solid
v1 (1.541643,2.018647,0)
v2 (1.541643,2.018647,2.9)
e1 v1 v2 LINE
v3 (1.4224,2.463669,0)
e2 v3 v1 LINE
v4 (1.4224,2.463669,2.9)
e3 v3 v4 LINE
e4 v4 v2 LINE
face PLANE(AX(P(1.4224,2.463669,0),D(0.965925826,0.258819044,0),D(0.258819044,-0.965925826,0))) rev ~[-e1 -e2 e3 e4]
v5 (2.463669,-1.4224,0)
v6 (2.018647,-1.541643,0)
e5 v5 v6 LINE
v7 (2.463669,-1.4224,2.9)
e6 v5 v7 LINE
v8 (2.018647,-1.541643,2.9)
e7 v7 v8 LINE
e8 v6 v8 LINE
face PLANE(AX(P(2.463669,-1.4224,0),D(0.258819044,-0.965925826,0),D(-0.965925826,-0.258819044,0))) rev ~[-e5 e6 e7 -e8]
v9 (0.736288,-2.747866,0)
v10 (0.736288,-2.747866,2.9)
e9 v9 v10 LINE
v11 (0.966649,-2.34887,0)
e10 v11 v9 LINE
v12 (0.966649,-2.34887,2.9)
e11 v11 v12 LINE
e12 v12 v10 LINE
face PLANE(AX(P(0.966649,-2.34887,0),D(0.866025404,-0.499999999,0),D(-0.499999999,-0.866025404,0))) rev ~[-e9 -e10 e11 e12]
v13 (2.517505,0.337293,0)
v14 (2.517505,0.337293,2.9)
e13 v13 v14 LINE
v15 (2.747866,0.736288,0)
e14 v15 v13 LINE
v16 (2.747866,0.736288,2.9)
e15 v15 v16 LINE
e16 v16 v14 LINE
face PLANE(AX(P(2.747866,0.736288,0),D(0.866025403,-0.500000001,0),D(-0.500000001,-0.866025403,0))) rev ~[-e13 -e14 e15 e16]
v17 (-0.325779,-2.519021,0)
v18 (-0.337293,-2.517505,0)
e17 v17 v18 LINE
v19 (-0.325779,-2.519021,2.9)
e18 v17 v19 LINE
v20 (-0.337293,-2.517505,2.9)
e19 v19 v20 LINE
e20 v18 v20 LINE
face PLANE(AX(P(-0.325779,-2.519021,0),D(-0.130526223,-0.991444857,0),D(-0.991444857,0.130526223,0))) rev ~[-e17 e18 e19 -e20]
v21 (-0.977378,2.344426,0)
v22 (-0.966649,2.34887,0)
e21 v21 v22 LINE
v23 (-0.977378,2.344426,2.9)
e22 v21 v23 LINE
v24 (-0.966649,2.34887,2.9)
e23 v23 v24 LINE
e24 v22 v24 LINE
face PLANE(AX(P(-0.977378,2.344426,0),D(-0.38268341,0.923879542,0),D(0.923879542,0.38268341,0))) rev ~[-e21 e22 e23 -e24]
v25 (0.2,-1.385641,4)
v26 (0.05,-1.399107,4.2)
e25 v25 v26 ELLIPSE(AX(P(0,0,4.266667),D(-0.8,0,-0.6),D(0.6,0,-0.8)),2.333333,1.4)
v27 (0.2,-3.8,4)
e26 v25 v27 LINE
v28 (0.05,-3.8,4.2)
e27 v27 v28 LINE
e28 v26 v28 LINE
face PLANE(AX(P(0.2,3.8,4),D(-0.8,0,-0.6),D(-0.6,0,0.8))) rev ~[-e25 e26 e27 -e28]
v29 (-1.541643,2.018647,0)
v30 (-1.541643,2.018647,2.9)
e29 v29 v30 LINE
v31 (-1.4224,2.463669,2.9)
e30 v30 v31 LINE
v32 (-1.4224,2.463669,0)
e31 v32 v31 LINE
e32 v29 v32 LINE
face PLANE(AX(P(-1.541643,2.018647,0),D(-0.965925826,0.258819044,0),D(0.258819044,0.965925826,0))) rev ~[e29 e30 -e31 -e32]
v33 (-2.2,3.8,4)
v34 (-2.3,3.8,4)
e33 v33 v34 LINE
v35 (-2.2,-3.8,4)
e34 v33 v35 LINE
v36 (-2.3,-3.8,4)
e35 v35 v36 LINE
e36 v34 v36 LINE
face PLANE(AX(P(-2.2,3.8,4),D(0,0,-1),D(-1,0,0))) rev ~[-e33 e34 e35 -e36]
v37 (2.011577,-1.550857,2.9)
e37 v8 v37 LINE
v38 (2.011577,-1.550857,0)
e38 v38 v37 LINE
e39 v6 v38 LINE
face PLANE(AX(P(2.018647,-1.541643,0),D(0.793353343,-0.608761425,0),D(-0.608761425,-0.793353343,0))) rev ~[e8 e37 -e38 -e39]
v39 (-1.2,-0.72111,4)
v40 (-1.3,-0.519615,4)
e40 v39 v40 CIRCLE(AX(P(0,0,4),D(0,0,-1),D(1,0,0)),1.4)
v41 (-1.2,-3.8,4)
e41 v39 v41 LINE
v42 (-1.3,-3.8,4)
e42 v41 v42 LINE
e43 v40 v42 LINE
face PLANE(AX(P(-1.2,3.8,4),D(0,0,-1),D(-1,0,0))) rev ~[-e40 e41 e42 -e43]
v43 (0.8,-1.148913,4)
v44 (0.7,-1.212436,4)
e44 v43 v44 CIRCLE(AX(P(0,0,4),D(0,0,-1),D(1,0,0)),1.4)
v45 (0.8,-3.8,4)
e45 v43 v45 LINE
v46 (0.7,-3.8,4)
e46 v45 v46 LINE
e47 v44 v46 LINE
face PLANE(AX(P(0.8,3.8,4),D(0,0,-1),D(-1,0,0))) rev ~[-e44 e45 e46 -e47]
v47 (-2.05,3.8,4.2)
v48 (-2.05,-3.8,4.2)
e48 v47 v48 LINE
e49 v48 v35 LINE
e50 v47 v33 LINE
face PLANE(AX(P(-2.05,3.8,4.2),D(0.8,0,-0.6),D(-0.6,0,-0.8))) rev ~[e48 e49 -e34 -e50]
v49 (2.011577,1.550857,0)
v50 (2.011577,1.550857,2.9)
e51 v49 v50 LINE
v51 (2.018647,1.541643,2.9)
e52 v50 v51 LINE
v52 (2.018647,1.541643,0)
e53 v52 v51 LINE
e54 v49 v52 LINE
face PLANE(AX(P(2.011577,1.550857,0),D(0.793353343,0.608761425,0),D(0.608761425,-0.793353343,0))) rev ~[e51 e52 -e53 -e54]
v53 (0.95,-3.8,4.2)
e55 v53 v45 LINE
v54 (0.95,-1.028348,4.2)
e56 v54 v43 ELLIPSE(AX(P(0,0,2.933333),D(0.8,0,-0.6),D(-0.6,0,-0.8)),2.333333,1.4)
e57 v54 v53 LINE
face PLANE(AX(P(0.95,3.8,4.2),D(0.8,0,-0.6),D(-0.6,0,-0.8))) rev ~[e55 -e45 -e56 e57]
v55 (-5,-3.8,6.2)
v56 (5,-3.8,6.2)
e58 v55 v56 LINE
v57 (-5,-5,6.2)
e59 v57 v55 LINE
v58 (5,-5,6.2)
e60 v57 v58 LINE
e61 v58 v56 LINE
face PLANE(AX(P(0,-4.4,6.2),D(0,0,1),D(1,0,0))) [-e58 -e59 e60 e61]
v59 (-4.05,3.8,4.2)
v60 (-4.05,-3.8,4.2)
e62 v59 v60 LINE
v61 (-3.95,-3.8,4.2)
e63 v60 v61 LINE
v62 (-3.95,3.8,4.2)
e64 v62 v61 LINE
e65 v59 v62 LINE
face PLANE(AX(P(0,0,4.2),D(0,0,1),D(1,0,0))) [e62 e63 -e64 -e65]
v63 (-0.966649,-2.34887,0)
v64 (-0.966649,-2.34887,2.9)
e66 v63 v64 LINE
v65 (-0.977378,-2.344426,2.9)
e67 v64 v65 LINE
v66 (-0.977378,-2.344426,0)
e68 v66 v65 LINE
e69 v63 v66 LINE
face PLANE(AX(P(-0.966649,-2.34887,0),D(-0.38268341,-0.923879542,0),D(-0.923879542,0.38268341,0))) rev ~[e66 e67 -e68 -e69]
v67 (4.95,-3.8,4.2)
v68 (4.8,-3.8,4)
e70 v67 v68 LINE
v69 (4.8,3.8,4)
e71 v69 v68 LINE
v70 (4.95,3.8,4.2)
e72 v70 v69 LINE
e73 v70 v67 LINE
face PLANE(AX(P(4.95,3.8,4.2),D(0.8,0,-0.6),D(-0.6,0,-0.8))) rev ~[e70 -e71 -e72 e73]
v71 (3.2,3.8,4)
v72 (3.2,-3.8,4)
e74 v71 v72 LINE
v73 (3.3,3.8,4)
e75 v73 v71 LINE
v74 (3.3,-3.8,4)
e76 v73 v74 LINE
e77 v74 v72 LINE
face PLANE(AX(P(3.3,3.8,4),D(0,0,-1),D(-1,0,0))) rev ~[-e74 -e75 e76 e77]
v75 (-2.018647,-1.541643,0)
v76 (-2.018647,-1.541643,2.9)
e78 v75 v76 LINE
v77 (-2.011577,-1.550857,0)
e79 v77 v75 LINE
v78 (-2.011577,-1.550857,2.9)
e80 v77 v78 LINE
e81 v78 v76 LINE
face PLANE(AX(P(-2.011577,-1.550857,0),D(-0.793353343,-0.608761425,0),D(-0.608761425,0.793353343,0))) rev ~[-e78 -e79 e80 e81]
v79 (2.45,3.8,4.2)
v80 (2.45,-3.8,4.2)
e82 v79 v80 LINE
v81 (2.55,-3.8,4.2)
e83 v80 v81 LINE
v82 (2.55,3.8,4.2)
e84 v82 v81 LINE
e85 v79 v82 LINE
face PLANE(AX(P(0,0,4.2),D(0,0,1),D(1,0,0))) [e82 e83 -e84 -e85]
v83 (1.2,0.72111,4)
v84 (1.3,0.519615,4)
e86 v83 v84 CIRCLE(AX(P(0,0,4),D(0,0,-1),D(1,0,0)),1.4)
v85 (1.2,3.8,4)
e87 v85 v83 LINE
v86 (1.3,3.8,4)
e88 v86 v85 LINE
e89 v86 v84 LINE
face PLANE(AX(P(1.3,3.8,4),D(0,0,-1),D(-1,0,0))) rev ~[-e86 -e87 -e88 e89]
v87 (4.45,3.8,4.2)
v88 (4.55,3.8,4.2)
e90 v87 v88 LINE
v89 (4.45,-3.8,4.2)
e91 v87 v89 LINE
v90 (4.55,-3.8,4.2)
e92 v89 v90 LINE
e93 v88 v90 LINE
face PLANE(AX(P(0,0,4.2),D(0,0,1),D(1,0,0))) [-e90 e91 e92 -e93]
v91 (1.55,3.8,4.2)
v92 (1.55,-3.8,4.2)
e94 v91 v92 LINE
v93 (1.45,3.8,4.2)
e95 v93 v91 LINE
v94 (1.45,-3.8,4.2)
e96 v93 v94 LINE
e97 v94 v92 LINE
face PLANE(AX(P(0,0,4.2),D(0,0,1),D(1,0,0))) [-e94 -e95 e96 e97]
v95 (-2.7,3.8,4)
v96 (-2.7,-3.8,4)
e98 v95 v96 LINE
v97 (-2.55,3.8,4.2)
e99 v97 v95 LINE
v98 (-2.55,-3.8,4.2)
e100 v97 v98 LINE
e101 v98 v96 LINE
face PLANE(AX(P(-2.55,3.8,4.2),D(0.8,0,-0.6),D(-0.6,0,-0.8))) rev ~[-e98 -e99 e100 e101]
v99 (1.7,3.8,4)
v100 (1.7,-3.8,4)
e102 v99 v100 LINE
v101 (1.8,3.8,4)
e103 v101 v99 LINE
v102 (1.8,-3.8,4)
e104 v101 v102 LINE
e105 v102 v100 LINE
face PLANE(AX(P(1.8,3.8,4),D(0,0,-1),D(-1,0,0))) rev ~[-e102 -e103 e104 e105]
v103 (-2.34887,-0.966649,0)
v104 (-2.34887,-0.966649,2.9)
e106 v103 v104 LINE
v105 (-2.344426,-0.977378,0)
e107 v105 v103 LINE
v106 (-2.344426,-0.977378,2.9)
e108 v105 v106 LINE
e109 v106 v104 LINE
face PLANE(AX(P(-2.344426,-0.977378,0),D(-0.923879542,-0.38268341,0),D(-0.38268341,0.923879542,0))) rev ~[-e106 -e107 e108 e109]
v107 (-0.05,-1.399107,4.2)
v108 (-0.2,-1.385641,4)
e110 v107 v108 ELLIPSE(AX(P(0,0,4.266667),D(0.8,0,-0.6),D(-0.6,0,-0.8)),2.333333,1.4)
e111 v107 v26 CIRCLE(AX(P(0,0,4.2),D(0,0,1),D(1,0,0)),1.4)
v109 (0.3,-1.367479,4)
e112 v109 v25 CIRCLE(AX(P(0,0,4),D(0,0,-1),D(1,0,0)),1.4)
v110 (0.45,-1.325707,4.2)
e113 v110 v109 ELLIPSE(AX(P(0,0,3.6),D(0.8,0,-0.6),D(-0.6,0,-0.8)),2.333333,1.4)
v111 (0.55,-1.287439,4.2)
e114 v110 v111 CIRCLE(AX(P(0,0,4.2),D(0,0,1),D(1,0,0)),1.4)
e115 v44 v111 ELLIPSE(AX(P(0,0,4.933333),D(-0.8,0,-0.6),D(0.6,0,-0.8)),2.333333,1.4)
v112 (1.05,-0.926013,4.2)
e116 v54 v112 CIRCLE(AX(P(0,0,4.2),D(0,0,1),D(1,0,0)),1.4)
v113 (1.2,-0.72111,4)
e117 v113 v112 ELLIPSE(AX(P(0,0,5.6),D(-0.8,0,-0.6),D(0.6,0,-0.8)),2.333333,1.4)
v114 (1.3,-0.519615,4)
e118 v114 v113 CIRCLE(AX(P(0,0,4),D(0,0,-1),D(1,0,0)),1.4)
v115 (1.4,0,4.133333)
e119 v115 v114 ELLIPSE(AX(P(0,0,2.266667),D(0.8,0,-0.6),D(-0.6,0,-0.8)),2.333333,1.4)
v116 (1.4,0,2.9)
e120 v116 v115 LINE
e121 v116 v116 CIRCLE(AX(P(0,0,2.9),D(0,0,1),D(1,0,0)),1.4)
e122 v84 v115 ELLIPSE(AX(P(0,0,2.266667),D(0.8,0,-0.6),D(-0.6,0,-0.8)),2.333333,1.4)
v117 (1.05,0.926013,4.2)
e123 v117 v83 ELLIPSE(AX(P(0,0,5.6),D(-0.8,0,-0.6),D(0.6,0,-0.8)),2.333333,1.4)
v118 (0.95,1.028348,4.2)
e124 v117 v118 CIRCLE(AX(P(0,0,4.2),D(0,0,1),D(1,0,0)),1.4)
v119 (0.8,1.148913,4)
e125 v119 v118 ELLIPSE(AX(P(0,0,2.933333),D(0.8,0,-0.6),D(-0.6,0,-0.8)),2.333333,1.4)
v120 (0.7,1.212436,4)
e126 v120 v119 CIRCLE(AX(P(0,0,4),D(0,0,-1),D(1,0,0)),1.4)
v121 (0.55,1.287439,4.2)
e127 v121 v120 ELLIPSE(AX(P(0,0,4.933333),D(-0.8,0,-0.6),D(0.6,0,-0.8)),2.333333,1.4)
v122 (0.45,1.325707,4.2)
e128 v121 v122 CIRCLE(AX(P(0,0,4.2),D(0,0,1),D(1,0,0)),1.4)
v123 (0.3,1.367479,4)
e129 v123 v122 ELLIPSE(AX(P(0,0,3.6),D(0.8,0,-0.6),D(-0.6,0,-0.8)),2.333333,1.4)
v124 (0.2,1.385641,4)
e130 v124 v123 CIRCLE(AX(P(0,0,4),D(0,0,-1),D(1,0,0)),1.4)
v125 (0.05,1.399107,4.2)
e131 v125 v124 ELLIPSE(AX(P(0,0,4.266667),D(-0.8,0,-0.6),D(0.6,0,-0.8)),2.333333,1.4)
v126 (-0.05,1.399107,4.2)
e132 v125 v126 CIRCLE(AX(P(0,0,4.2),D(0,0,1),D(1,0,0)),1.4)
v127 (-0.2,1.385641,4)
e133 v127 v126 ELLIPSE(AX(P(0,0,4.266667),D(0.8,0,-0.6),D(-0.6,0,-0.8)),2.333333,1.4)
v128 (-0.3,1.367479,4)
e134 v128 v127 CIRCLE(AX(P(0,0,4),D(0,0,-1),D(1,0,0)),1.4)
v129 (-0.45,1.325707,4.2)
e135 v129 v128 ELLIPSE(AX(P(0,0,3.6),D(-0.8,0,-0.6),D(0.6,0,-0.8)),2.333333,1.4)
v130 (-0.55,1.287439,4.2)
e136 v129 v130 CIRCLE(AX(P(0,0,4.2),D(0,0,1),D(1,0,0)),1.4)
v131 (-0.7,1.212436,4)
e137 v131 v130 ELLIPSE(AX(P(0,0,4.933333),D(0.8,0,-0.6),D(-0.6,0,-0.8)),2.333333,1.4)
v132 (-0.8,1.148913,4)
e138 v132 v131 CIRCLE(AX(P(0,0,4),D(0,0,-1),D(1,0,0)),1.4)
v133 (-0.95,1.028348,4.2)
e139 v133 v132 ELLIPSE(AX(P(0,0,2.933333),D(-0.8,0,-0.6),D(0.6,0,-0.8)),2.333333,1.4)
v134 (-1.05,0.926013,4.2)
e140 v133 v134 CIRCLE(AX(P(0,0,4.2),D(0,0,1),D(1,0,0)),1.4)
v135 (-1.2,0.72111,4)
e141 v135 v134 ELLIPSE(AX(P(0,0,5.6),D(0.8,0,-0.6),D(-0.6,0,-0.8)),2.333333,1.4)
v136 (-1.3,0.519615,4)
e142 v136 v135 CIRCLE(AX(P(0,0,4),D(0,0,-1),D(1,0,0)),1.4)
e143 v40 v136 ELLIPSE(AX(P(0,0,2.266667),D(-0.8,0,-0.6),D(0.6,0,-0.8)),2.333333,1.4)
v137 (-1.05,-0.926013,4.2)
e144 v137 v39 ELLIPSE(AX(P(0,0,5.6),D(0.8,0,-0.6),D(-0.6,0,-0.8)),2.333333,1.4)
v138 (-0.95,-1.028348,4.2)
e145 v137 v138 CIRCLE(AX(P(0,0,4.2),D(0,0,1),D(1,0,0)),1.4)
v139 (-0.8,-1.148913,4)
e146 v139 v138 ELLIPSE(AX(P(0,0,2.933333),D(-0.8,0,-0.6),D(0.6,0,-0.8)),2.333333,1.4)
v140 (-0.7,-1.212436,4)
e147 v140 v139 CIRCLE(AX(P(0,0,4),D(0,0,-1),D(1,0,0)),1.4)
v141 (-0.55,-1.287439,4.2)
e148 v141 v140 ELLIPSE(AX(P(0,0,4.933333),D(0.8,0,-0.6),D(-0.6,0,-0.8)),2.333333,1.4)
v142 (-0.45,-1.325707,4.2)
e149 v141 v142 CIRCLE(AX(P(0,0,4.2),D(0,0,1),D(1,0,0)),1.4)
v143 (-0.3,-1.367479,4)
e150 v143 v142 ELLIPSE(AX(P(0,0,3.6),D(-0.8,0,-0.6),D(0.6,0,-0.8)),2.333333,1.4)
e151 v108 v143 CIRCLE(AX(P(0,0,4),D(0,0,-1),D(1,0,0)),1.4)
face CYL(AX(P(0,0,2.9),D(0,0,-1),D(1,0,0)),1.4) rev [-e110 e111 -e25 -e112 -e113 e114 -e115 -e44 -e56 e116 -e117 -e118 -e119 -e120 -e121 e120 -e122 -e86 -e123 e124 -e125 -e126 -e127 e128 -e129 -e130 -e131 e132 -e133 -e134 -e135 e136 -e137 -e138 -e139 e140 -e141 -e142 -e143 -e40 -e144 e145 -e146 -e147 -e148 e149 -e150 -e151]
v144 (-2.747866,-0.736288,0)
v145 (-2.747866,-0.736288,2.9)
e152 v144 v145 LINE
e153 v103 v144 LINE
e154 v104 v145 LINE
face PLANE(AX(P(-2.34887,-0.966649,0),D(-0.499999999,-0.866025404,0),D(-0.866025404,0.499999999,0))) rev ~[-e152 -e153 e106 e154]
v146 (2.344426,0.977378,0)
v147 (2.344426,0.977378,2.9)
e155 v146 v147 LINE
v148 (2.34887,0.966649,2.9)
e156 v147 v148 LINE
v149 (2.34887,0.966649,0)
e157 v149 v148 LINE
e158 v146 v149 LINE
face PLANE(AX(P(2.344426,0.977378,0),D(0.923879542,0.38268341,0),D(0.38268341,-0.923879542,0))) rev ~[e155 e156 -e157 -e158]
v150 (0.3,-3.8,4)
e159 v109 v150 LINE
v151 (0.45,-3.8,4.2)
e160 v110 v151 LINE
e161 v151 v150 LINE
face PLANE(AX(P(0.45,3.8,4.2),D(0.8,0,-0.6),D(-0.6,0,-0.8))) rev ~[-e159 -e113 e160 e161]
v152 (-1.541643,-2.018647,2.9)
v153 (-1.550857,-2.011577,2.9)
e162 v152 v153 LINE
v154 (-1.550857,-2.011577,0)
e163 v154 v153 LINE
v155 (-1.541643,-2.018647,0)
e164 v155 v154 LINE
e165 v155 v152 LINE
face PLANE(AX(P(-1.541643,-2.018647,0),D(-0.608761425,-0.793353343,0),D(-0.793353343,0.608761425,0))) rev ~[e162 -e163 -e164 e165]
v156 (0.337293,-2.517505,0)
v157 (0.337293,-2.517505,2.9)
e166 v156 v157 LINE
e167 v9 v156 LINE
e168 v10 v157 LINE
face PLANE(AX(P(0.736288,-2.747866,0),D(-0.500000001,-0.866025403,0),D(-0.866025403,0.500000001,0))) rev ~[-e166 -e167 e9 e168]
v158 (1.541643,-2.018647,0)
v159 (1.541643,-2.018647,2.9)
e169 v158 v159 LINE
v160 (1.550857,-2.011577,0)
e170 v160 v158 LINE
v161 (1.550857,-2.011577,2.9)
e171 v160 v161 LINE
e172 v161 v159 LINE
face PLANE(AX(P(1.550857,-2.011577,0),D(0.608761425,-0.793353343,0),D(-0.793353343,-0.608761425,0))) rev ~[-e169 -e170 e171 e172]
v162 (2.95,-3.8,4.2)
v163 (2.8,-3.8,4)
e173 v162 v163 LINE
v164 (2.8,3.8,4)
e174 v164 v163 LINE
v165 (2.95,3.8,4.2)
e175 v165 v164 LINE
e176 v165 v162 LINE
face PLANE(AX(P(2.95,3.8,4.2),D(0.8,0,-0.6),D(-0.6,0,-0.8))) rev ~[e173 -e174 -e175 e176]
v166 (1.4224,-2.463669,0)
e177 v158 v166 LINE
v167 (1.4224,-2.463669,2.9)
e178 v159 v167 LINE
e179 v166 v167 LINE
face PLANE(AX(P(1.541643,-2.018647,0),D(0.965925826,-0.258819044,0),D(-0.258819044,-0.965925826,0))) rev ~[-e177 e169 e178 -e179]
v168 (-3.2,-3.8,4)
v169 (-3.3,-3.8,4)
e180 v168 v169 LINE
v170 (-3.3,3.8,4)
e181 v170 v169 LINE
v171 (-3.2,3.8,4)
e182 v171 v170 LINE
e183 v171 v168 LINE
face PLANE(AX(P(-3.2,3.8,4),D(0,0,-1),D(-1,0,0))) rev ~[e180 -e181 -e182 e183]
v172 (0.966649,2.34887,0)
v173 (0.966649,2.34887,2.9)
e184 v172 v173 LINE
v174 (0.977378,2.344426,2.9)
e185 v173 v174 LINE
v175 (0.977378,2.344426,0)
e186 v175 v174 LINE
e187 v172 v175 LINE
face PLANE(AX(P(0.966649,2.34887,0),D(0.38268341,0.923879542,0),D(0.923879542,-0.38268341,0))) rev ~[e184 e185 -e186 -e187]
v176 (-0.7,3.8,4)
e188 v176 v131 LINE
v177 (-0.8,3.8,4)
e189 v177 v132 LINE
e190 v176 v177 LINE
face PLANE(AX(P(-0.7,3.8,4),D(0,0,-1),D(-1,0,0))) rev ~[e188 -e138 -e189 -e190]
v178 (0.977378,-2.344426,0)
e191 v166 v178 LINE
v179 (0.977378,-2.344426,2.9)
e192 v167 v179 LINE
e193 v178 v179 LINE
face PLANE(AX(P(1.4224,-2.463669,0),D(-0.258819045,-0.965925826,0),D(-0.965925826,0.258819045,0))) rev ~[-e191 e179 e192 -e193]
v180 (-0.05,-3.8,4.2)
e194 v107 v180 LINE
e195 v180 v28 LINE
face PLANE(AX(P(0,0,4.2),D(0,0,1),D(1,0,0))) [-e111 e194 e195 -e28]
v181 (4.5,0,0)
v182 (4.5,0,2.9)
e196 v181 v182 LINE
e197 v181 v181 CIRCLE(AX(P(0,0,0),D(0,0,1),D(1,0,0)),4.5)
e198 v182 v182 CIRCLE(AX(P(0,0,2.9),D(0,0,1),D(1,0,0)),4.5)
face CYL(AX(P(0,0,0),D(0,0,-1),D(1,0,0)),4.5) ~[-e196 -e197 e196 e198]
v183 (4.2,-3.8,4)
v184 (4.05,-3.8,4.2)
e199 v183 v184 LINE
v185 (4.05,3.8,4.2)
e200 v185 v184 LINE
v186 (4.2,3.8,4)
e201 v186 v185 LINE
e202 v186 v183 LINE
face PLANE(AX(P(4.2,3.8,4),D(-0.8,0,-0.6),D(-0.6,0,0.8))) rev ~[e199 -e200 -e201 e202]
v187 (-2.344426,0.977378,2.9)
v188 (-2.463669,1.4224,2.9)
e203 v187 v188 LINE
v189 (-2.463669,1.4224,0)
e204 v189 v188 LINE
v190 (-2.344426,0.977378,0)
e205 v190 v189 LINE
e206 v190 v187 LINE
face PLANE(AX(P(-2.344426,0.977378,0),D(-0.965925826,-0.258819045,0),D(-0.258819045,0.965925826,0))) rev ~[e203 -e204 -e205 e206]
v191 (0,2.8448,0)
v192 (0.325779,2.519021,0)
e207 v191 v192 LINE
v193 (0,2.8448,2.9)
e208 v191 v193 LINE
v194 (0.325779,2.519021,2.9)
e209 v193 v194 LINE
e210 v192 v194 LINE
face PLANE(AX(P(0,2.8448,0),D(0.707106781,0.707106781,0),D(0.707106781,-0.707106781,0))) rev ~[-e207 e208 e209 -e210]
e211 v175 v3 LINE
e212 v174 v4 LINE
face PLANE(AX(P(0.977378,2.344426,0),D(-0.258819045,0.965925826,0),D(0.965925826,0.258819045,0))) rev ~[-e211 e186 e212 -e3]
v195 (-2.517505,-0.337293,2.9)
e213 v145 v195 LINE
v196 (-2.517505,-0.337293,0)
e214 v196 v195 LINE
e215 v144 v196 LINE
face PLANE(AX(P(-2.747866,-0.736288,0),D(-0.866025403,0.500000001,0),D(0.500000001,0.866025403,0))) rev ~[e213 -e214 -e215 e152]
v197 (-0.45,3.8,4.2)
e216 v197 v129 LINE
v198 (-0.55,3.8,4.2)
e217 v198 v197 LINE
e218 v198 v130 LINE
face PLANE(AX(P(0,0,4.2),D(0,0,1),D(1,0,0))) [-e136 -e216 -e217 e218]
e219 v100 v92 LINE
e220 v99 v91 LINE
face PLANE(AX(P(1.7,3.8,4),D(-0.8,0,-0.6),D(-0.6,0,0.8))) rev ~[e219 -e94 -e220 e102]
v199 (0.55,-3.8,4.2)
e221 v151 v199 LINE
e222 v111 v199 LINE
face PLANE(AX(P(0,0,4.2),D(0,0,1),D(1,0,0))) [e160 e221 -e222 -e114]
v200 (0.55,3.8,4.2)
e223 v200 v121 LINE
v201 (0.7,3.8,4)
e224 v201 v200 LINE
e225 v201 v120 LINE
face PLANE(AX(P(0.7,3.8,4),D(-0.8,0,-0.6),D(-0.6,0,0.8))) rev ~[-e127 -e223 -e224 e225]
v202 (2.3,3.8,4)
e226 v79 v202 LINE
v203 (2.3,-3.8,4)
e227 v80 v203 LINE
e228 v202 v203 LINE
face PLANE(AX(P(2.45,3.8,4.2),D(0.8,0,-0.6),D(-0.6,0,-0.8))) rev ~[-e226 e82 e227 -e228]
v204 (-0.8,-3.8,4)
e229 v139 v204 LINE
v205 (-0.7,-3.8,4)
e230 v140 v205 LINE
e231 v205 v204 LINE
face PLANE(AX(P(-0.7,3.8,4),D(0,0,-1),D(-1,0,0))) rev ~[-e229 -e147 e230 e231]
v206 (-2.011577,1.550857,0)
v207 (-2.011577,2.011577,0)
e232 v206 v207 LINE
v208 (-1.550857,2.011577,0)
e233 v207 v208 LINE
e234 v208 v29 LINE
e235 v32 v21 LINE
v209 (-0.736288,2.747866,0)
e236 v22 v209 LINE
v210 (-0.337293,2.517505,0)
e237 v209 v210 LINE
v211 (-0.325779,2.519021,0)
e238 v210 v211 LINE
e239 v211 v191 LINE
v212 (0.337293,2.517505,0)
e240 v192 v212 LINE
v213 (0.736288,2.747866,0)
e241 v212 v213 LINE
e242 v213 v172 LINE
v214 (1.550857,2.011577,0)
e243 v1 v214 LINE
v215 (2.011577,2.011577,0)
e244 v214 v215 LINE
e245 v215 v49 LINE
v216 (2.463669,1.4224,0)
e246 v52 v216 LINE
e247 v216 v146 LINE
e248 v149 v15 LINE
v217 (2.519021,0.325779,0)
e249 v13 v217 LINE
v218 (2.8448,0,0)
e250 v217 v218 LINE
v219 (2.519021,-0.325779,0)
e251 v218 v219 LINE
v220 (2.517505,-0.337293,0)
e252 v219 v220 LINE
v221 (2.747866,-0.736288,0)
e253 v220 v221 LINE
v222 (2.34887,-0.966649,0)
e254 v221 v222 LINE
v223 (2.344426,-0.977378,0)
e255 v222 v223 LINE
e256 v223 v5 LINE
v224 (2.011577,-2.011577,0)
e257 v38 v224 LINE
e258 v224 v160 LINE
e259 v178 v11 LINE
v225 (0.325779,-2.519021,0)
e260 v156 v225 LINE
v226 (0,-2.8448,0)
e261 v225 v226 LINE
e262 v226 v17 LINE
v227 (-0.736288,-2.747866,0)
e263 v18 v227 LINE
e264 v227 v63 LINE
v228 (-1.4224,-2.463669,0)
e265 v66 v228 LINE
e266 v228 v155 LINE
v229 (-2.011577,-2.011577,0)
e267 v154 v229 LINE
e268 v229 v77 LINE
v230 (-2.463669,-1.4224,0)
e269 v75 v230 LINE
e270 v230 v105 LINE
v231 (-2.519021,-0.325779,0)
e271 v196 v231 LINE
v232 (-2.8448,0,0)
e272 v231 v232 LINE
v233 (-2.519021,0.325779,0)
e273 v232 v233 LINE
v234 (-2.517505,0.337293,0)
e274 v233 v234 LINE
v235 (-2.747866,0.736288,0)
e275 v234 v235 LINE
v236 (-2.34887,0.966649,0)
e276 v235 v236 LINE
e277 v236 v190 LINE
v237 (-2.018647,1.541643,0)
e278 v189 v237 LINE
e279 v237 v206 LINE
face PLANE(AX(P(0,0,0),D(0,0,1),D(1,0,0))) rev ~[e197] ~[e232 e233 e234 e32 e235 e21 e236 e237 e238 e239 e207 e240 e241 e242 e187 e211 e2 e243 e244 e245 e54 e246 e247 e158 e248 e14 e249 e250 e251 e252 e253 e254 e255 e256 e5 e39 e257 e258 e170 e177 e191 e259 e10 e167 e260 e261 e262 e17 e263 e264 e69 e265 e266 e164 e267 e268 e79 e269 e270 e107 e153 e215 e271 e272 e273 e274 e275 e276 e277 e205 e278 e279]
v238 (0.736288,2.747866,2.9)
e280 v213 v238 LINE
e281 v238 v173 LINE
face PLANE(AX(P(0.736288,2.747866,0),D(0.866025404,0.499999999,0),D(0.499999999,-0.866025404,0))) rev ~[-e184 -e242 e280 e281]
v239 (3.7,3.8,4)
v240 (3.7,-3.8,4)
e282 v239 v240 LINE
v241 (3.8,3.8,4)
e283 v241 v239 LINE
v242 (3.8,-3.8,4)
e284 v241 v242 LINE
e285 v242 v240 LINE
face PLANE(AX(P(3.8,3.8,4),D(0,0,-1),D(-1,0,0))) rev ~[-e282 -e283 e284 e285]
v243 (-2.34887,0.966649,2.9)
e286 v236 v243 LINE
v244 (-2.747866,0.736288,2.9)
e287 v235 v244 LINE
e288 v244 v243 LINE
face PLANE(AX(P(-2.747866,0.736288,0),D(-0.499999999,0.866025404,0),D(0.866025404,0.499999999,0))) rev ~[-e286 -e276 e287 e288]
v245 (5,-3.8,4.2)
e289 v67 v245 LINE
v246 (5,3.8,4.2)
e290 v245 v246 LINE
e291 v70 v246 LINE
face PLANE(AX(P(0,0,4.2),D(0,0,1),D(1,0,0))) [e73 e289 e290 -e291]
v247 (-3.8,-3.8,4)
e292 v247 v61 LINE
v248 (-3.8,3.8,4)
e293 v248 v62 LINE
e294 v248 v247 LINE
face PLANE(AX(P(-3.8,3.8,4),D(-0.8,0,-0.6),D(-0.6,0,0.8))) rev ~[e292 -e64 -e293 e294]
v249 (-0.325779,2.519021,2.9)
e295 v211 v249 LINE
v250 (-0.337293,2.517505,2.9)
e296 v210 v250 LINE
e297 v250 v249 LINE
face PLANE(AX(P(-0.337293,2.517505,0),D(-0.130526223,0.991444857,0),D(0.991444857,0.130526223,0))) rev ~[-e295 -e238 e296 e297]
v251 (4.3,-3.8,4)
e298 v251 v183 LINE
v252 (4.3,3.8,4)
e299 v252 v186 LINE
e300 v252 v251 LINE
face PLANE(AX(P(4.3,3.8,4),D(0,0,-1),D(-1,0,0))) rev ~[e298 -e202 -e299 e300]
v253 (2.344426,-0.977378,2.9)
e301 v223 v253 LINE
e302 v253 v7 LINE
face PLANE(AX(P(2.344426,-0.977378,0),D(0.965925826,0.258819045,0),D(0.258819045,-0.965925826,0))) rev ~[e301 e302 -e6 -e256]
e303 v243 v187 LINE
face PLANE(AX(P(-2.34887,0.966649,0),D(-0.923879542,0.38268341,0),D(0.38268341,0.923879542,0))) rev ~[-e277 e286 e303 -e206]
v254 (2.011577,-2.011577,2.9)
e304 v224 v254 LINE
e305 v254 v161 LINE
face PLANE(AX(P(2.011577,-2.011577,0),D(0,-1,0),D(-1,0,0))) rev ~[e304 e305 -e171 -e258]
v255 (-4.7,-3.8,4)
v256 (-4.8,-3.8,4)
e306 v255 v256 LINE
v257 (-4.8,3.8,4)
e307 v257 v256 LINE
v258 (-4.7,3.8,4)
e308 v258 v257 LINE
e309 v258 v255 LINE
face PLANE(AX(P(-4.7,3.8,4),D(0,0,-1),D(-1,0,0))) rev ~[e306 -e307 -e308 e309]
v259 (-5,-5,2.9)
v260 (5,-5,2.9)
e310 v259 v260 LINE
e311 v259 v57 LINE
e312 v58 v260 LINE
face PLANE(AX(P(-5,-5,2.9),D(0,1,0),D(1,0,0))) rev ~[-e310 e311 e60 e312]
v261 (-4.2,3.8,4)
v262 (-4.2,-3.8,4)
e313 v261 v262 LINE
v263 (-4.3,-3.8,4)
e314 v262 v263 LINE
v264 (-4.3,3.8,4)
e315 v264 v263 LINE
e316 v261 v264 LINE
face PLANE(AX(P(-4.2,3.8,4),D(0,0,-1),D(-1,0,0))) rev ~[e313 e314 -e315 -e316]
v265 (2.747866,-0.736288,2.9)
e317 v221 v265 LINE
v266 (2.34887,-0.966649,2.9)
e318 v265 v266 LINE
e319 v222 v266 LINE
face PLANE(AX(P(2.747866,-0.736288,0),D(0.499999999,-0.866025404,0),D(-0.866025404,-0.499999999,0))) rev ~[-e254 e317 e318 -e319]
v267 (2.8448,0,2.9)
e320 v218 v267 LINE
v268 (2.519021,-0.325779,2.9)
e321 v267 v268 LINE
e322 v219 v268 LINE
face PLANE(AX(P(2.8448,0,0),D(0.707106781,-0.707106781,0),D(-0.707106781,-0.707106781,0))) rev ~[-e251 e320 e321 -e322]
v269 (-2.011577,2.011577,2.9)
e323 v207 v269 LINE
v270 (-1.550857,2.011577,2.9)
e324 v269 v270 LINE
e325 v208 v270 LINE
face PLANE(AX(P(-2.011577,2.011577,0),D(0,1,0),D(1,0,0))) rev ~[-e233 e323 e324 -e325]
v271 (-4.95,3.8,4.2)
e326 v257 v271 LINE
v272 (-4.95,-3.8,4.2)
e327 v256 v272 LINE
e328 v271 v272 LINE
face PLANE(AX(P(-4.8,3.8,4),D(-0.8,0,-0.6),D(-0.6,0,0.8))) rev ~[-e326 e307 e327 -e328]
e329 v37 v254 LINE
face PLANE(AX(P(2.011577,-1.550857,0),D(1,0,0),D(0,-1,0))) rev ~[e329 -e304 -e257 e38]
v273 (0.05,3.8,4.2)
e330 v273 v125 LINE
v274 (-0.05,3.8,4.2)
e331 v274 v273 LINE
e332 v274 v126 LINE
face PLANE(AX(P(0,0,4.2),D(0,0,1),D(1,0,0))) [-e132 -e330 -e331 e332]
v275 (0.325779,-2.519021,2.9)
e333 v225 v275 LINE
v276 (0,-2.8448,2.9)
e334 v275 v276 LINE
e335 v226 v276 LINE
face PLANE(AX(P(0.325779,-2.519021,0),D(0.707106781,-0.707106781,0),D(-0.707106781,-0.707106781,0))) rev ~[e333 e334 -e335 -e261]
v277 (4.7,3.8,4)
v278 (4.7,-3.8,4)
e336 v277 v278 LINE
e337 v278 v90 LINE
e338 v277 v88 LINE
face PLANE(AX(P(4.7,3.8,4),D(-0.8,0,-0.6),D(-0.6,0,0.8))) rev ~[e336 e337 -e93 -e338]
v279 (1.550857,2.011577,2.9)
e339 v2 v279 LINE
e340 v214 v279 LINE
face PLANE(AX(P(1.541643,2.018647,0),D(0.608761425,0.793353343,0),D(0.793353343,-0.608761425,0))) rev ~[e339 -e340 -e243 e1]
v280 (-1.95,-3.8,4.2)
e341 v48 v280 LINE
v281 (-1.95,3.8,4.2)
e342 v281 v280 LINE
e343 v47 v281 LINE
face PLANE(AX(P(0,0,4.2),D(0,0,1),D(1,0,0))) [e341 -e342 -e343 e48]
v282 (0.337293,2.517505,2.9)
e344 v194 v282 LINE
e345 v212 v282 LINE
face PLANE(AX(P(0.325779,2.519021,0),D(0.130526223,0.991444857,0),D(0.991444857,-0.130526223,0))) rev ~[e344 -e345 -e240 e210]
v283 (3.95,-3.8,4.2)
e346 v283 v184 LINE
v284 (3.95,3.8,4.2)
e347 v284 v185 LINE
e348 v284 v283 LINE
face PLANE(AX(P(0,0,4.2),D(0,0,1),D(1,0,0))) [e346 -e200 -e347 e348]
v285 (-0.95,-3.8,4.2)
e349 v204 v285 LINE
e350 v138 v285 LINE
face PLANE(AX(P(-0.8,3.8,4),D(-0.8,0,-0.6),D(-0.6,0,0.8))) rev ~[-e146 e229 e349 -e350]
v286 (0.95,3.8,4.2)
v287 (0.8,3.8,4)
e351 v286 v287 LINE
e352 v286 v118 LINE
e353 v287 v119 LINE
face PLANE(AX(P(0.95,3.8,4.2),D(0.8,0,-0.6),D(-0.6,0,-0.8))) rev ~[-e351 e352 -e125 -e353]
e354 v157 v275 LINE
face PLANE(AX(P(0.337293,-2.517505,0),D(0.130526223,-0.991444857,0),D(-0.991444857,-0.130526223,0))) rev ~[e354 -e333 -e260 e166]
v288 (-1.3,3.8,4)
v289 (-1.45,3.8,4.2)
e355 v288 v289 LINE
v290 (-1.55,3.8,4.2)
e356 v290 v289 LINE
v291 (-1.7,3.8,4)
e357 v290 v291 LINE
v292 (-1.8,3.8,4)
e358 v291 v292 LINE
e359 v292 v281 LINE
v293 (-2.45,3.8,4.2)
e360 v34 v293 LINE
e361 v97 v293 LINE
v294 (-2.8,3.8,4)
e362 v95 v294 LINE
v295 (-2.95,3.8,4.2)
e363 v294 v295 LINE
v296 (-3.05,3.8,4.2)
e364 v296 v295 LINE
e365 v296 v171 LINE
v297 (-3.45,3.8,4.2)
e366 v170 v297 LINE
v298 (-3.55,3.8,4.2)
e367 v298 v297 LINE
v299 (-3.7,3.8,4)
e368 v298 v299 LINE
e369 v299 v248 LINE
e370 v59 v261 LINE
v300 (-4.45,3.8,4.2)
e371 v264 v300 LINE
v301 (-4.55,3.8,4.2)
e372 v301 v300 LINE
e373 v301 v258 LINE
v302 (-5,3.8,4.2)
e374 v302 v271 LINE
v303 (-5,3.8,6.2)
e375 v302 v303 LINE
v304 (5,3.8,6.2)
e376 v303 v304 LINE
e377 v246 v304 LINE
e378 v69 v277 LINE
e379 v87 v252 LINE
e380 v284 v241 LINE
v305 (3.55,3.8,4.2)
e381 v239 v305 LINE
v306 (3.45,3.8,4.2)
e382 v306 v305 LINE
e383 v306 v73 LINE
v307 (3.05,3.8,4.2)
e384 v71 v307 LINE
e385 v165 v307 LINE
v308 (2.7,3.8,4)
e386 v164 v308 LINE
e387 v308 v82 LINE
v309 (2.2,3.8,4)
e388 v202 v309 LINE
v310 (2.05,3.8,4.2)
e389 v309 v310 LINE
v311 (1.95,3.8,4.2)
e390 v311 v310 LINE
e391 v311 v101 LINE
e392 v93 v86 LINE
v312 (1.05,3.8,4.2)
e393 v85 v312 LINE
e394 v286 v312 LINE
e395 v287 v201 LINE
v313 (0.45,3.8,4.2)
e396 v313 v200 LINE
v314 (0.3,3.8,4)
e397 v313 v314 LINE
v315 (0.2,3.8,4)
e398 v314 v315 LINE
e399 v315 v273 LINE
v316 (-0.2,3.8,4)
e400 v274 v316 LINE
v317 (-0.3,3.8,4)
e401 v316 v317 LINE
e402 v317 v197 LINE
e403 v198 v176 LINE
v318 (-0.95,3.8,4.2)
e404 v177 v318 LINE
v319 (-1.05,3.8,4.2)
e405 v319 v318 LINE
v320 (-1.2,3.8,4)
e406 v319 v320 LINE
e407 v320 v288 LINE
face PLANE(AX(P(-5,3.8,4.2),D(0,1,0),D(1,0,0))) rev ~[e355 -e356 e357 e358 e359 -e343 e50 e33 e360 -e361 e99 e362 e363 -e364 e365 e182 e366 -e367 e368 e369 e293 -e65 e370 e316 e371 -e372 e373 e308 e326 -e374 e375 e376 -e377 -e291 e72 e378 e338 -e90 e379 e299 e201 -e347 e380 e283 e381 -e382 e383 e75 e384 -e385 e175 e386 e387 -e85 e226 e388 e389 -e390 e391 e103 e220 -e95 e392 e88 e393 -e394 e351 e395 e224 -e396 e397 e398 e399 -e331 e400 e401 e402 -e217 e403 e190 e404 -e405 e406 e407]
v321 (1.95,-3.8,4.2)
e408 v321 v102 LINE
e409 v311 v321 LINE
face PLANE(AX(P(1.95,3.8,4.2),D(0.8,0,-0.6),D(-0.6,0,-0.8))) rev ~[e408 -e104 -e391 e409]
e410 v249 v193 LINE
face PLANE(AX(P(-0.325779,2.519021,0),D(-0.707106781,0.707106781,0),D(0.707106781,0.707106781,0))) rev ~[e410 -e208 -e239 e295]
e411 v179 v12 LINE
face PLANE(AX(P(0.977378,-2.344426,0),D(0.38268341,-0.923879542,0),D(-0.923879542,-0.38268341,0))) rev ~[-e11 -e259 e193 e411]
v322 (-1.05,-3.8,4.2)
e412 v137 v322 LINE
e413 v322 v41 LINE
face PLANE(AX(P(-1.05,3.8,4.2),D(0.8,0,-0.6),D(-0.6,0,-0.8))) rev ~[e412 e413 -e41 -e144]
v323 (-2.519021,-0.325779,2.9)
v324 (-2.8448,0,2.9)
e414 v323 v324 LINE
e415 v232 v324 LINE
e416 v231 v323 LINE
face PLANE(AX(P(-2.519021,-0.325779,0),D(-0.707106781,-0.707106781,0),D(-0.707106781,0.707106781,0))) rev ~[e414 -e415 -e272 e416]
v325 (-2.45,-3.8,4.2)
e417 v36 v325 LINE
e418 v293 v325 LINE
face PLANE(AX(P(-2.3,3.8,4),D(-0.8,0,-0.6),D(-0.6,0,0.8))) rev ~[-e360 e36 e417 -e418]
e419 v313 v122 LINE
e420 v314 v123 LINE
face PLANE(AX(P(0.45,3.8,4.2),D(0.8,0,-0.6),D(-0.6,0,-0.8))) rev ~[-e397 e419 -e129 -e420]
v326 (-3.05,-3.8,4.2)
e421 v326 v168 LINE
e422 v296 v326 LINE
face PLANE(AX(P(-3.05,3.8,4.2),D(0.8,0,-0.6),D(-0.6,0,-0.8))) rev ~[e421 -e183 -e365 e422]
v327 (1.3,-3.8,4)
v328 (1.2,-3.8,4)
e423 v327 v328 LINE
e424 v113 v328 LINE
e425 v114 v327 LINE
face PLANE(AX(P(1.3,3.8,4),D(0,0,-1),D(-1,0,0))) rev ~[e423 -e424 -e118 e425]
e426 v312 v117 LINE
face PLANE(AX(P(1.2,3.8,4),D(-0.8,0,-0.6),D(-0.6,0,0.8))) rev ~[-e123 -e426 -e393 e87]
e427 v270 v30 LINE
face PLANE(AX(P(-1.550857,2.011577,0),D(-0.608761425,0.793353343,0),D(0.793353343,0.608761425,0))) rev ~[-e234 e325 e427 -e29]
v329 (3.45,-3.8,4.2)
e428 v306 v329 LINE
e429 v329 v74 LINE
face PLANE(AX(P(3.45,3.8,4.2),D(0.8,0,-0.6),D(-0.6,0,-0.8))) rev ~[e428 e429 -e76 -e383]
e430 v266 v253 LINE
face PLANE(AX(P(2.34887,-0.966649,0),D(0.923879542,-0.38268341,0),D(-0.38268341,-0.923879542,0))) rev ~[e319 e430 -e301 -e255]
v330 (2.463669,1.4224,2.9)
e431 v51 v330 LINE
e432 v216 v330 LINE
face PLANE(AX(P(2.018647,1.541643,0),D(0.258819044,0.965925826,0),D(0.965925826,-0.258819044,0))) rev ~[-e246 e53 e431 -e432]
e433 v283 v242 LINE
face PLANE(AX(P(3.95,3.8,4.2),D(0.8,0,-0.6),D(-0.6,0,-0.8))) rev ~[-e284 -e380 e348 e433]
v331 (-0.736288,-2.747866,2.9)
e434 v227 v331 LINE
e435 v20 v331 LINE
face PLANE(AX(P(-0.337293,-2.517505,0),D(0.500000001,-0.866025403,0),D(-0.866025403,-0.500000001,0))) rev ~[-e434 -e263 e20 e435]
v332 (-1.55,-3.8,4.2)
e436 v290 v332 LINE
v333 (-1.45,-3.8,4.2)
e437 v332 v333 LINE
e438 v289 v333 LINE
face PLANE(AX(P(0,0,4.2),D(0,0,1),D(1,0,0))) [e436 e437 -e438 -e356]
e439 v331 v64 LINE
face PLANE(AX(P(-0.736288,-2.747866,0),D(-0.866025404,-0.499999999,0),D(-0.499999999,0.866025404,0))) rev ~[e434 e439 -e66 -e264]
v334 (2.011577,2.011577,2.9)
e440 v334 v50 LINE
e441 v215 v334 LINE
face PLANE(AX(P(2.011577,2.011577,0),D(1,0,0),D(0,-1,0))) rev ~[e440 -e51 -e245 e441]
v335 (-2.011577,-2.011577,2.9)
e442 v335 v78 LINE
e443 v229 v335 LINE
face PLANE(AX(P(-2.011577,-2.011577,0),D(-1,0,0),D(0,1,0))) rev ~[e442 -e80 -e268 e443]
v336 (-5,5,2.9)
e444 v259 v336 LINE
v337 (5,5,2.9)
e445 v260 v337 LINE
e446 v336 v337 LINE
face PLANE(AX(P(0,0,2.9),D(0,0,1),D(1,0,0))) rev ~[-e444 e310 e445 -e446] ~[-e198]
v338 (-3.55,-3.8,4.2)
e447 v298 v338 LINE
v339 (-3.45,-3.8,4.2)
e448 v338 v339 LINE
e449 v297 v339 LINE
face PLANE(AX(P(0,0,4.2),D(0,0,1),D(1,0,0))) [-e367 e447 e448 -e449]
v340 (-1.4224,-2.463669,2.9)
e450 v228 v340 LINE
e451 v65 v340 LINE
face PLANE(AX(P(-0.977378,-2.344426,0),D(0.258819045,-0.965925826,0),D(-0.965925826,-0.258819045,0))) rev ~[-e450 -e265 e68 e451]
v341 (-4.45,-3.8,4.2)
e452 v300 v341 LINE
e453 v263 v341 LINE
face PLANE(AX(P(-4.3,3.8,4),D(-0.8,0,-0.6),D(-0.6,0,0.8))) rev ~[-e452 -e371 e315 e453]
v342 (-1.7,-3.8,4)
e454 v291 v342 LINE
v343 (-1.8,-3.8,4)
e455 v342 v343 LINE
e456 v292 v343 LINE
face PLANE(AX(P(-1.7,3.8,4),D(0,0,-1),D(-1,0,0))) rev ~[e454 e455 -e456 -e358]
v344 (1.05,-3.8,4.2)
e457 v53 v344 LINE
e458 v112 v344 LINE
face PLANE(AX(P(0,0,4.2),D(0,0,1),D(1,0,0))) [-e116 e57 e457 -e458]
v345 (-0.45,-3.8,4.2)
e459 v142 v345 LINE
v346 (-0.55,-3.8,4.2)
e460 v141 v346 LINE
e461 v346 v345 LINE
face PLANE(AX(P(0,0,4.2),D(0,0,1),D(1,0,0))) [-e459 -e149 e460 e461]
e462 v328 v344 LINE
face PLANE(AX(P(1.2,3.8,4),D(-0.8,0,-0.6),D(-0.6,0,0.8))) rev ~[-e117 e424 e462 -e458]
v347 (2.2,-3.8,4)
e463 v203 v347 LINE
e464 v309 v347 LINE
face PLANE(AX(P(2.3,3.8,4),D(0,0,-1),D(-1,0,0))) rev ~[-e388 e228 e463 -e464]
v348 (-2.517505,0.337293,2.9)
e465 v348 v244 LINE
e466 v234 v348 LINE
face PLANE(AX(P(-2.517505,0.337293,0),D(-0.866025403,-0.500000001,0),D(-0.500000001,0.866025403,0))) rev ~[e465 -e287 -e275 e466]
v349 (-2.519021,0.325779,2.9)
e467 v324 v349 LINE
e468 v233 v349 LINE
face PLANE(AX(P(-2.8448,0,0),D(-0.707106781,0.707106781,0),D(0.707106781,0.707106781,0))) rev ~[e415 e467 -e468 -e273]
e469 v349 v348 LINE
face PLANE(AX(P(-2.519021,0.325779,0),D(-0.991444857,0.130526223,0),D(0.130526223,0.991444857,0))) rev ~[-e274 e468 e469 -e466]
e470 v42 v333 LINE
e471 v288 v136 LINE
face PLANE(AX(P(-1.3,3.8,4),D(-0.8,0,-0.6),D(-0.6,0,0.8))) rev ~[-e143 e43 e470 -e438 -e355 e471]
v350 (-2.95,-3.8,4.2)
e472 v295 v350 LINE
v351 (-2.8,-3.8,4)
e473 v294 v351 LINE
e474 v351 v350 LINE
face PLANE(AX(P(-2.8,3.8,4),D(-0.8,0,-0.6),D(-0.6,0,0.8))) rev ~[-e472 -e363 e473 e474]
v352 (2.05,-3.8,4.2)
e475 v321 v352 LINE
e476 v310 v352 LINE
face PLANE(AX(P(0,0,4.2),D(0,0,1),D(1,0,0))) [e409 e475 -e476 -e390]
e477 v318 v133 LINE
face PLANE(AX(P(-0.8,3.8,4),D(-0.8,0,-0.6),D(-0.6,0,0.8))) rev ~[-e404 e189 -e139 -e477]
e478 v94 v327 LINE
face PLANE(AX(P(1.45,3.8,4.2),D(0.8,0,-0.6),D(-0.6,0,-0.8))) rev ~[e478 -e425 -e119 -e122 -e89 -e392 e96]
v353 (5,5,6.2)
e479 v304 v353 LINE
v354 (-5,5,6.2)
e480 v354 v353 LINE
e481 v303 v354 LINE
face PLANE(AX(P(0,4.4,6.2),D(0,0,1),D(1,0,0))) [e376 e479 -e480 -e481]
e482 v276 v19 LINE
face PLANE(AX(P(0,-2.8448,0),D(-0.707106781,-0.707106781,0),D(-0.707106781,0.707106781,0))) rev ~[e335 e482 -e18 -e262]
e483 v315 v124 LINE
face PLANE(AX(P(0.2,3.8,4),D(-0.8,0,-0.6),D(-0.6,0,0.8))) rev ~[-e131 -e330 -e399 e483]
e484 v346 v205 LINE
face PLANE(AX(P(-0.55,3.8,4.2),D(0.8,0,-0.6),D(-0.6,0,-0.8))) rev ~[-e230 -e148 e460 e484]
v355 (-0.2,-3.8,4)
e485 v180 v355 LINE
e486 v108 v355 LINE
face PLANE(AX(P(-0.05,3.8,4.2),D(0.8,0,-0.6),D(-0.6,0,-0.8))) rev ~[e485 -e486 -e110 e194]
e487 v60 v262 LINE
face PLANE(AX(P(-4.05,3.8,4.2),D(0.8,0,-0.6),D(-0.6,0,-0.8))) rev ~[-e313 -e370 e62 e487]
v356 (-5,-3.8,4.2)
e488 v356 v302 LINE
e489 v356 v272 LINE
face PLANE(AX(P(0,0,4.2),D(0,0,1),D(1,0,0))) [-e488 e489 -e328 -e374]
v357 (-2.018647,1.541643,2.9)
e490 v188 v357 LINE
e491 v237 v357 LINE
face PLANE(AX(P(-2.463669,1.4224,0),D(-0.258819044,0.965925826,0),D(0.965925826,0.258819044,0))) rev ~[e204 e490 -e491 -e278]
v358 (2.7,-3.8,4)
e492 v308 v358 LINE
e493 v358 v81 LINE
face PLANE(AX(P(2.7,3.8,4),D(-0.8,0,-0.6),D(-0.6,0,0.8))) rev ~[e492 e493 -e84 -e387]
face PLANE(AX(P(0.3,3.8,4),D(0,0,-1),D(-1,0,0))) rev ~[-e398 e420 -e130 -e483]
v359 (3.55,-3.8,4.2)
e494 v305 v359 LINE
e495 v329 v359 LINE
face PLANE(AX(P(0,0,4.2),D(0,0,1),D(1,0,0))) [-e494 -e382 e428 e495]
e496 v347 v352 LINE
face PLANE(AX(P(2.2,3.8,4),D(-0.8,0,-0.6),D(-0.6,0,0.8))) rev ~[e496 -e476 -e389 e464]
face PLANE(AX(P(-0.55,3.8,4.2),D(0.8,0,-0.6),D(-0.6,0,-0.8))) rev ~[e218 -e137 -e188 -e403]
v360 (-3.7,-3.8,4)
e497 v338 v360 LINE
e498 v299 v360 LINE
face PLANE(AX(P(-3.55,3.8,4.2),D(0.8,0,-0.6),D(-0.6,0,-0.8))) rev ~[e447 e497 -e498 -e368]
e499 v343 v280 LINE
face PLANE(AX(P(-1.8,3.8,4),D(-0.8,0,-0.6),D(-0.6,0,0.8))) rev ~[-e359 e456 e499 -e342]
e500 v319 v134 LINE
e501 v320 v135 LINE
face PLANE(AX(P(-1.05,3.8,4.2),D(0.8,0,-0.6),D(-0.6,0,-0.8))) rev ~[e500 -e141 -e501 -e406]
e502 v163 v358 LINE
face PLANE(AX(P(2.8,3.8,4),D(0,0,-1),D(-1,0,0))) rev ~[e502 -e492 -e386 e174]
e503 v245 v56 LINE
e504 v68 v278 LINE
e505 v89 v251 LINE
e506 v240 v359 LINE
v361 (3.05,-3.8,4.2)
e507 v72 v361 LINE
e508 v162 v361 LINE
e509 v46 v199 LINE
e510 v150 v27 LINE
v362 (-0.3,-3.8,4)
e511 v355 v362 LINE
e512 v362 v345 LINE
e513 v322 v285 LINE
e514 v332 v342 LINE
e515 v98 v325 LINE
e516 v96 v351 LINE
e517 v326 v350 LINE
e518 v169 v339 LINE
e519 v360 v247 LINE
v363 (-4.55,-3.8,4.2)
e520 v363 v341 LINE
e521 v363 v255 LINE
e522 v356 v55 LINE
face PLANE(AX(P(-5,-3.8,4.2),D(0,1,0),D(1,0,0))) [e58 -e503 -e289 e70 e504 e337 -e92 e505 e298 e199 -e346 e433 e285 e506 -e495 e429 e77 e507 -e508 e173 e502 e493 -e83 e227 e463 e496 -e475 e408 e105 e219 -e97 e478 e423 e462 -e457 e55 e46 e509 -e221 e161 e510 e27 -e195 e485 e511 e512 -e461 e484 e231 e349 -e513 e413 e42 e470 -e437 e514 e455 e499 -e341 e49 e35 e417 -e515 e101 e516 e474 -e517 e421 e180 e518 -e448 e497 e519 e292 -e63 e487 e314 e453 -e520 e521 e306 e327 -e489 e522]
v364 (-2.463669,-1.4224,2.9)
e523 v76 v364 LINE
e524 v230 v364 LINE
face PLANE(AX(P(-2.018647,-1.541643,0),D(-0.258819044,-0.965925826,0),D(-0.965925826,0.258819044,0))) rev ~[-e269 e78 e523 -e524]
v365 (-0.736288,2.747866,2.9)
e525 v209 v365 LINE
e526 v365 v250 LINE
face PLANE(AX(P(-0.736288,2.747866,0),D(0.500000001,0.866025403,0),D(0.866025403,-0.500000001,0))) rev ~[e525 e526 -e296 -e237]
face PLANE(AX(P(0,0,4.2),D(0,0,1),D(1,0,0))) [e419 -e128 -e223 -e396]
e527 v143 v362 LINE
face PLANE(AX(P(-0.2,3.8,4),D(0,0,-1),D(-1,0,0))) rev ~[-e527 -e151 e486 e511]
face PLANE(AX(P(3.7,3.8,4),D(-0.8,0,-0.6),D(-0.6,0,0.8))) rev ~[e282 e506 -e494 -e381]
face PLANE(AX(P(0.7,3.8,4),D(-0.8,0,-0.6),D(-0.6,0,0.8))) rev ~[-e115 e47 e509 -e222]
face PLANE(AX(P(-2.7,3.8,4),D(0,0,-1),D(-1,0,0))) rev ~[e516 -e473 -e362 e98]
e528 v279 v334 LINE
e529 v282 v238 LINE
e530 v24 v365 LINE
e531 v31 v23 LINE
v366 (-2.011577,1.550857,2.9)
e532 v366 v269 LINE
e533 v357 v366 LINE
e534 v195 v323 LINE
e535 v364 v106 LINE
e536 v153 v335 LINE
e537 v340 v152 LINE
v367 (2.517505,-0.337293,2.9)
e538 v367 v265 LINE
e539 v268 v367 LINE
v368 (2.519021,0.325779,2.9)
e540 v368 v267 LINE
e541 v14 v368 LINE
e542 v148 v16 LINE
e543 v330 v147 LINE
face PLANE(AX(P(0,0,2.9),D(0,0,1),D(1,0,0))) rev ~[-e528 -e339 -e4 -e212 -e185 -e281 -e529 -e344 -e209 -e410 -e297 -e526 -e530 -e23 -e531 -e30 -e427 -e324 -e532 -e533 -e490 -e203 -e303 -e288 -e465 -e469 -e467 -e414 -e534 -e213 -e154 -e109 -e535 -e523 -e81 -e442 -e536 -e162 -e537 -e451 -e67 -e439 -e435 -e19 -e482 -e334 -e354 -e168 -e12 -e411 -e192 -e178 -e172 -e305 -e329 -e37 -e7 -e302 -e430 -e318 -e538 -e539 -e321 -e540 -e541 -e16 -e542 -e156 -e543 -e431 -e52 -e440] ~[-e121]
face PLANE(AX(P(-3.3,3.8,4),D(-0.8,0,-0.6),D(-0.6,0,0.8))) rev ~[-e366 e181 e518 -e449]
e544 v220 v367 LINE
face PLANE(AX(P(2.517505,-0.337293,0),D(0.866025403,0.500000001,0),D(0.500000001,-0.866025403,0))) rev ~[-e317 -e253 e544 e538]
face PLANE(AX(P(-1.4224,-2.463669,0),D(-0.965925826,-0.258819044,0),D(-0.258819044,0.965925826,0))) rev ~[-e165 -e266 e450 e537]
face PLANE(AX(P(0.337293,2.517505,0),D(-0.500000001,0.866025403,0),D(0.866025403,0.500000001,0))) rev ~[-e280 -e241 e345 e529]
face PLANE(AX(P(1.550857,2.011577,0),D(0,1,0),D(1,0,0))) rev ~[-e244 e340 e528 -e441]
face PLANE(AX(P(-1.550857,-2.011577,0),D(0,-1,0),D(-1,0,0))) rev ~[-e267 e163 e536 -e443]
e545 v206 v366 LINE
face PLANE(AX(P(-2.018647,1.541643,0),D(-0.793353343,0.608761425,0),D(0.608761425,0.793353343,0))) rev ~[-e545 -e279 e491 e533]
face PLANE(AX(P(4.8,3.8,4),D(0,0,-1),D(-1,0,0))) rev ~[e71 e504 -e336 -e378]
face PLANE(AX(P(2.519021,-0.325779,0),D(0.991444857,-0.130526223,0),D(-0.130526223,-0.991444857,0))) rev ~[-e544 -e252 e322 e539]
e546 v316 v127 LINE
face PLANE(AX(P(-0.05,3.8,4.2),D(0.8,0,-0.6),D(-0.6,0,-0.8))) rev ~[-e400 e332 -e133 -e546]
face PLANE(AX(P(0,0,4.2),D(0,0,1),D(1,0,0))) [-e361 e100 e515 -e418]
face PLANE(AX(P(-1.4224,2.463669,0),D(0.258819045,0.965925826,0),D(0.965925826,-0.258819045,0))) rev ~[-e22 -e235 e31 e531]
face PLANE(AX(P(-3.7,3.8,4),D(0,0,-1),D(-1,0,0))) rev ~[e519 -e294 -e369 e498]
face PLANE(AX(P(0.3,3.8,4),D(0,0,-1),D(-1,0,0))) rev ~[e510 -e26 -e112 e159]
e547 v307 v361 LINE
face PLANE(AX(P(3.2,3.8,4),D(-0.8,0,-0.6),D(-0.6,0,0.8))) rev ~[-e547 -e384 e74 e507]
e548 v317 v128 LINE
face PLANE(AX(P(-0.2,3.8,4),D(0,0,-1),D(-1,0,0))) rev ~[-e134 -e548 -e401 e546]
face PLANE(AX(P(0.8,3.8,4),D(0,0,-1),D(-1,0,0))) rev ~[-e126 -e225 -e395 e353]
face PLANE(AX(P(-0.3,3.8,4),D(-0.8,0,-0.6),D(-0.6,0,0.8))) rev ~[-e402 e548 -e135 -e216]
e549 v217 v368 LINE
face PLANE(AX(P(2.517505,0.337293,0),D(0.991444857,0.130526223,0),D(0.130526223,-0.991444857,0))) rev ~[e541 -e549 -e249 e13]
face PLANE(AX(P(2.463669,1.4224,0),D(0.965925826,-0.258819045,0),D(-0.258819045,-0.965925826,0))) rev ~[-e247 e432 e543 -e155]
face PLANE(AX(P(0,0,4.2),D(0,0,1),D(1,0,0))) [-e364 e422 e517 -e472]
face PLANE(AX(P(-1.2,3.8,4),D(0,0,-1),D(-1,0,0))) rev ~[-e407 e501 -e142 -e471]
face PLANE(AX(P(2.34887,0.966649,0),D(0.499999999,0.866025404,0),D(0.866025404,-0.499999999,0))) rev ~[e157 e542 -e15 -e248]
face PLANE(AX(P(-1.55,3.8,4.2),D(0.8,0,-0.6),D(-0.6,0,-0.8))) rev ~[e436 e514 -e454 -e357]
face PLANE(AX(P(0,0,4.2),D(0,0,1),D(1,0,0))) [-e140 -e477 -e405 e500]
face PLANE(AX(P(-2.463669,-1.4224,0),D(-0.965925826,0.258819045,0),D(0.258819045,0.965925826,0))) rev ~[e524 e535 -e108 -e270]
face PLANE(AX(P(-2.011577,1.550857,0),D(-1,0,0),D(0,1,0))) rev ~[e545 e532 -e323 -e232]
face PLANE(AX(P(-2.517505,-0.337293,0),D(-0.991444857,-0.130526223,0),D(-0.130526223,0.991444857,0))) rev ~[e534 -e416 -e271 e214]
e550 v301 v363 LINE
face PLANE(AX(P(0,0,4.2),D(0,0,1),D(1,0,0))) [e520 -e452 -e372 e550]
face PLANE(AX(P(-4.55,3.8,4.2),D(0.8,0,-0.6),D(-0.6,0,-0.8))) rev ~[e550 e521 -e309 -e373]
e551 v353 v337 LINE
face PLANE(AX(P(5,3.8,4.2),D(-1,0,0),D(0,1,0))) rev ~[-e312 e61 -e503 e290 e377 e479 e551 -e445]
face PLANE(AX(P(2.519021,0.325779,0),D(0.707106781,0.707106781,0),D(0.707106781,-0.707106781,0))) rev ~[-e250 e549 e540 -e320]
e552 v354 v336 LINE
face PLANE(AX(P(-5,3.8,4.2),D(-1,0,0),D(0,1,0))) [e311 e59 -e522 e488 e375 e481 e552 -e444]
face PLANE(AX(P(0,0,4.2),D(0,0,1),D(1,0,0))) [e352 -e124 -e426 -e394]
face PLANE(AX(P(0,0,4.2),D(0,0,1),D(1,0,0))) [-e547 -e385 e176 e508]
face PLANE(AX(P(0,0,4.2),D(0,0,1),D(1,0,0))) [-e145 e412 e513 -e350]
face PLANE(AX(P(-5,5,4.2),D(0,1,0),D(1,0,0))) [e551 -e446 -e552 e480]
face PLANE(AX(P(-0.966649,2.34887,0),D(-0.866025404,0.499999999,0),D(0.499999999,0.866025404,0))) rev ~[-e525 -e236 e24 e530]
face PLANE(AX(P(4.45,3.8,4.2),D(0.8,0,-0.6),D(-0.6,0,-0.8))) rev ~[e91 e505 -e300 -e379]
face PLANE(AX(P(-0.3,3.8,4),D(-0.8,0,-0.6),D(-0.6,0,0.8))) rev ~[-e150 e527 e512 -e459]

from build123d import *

# Parameters (mm, degrees)
ESQUISSE1_R                = 4.5
BOSS_EXTRU_1_DEPTH         = 2.9
ESQUISSE2_W                = 10
ESQUISSE2_H                = 10
ESQUISSE2_R                = 1.4
BOSS_EXTRU_2_DEPTH         = 1.3
ESQUISSE3_W                = 10
ESQUISSE3_H                = 1.2
BOSS_EXTRU_3_DEPTH         = 2
ENL_V_MAT_EXTRU_1_DEPTH    = 7.6
R_P_TITION_LIN_AIRE4_COUNT = 20
R_P_TITION_LIN_AIRE4_PITCH = 0.5


with BuildPart() as part:
    # Esquisse1 → Boss.-Extru.1 (new body)
    with BuildSketch(Plane.XY):
        Circle(ESQUISSE1_R)
        Polygon((2.011577371, -1.550856692), (2.011577371, -2.011577371), (1.550856692, -2.011577371), (1.541643286, -2.018647066), (1.4224, -2.463669069), (0.977377998, -2.344425783), (0.966648759, -2.348869979), (0.73628842, -2.747865791), (0.337292608, -2.517505451), (0.325778716, -2.519021284), (0, -2.8448), (-0.325778716, -2.519021284), (-0.337292608, -2.517505451), (-0.73628842, -2.747865791), (-0.966648759, -2.348869979), (-0.977377998, -2.344425783), (-1.4224, -2.463669069), (-1.541643286, -2.018647066), (-1.550856692, -2.011577371), (-2.011577371, -2.011577371), (-2.011577371, -1.550856692), (-2.018647066, -1.541643286), (-2.463669069, -1.4224), (-2.344425783, -0.977377998), (-2.348869979, -0.966648759), (-2.747865791, -0.73628842), (-2.517505451, -0.337292608), (-2.519021284, -0.325778716), (-2.8448, 0), (-2.519021284, 0.325778716), (-2.517505451, 0.337292608), (-2.747865791, 0.73628842), (-2.348869979, 0.966648759), (-2.344425783, 0.977377998), (-2.463669069, 1.4224), (-2.018647066, 1.541643286), (-2.011577371, 1.550856692), (-2.011577371, 2.011577371), (-1.550856692, 2.011577371), (-1.541643286, 2.018647066), (-1.4224, 2.463669069), (-0.977377998, 2.344425783), (-0.966648759, 2.348869979), (-0.73628842, 2.747865791), (-0.337292608, 2.517505451), (-0.325778716, 2.519021284), (0, 2.8448), (0.325778716, 2.519021284), (0.337292608, 2.517505451), (0.73628842, 2.747865791), (0.966648759, 2.348869979), (0.977377998, 2.344425783), (1.4224, 2.463669069), (1.541643286, 2.018647066), (1.550856692, 2.011577371), (2.011577371, 2.011577371), (2.011577371, 1.550856692), (2.018647066, 1.541643286), (2.463669069, 1.4224), (2.344425783, 0.977377998), (2.348869979, 0.966648759), (2.747865791, 0.73628842), (2.517505451, 0.337292608), (2.519021284, 0.325778716), (2.8448, 0), (2.519021284, -0.325778716), (2.517505451, -0.337292608), (2.747865791, -0.73628842), (2.348869979, -0.966648759), (2.344425783, -0.977377998), (2.463669069, -1.4224), (2.018647066, -1.541643286), align=None, mode=Mode.SUBTRACT)
    extrude(amount=BOSS_EXTRU_1_DEPTH)

    # Esquisse2 → Boss.-Extru.2 (add)
    with BuildSketch(Plane.XY.offset(2.9)):
        Rectangle(ESQUISSE2_W, ESQUISSE2_H)
        Circle(ESQUISSE2_R, mode=Mode.SUBTRACT)
    extrude(amount=BOSS_EXTRU_2_DEPTH)

    # Esquisse3 → Boss.-Extru.3 (add)
    with BuildSketch(Plane.XY.offset(4.2)):
        with Locations((0, 4.4)):
            Rectangle(ESQUISSE3_W, ESQUISSE3_H)
        with Locations((0, -4.4)):
            Rectangle(ESQUISSE3_W, ESQUISSE3_H)
    extrude(amount=BOSS_EXTRU_3_DEPTH)

    # Esquisse4 → Enlèv. mat.-Extru.1 (cut)
    with BuildSketch(Plane.XZ.offset(-3.8)):
        Polygon((-4.55, 4.2), (-4.7, 4), (-4.8, 4), (-4.95, 4.2), align=None)
    enl_v_mat_extru_1 = extrude(amount=ENL_V_MAT_EXTRU_1_DEPTH, mode=Mode.SUBTRACT)

    # Répétition linéaire4: Enlèv. mat.-Extru.1 ×20
    with Locations(*[(i * R_P_TITION_LIN_AIRE4_PITCH, 0, 0) for i in range(1, R_P_TITION_LIN_AIRE4_COUNT)]):
        add(enl_v_mat_extru_1, mode=Mode.SUBTRACT)


solid = part.part
